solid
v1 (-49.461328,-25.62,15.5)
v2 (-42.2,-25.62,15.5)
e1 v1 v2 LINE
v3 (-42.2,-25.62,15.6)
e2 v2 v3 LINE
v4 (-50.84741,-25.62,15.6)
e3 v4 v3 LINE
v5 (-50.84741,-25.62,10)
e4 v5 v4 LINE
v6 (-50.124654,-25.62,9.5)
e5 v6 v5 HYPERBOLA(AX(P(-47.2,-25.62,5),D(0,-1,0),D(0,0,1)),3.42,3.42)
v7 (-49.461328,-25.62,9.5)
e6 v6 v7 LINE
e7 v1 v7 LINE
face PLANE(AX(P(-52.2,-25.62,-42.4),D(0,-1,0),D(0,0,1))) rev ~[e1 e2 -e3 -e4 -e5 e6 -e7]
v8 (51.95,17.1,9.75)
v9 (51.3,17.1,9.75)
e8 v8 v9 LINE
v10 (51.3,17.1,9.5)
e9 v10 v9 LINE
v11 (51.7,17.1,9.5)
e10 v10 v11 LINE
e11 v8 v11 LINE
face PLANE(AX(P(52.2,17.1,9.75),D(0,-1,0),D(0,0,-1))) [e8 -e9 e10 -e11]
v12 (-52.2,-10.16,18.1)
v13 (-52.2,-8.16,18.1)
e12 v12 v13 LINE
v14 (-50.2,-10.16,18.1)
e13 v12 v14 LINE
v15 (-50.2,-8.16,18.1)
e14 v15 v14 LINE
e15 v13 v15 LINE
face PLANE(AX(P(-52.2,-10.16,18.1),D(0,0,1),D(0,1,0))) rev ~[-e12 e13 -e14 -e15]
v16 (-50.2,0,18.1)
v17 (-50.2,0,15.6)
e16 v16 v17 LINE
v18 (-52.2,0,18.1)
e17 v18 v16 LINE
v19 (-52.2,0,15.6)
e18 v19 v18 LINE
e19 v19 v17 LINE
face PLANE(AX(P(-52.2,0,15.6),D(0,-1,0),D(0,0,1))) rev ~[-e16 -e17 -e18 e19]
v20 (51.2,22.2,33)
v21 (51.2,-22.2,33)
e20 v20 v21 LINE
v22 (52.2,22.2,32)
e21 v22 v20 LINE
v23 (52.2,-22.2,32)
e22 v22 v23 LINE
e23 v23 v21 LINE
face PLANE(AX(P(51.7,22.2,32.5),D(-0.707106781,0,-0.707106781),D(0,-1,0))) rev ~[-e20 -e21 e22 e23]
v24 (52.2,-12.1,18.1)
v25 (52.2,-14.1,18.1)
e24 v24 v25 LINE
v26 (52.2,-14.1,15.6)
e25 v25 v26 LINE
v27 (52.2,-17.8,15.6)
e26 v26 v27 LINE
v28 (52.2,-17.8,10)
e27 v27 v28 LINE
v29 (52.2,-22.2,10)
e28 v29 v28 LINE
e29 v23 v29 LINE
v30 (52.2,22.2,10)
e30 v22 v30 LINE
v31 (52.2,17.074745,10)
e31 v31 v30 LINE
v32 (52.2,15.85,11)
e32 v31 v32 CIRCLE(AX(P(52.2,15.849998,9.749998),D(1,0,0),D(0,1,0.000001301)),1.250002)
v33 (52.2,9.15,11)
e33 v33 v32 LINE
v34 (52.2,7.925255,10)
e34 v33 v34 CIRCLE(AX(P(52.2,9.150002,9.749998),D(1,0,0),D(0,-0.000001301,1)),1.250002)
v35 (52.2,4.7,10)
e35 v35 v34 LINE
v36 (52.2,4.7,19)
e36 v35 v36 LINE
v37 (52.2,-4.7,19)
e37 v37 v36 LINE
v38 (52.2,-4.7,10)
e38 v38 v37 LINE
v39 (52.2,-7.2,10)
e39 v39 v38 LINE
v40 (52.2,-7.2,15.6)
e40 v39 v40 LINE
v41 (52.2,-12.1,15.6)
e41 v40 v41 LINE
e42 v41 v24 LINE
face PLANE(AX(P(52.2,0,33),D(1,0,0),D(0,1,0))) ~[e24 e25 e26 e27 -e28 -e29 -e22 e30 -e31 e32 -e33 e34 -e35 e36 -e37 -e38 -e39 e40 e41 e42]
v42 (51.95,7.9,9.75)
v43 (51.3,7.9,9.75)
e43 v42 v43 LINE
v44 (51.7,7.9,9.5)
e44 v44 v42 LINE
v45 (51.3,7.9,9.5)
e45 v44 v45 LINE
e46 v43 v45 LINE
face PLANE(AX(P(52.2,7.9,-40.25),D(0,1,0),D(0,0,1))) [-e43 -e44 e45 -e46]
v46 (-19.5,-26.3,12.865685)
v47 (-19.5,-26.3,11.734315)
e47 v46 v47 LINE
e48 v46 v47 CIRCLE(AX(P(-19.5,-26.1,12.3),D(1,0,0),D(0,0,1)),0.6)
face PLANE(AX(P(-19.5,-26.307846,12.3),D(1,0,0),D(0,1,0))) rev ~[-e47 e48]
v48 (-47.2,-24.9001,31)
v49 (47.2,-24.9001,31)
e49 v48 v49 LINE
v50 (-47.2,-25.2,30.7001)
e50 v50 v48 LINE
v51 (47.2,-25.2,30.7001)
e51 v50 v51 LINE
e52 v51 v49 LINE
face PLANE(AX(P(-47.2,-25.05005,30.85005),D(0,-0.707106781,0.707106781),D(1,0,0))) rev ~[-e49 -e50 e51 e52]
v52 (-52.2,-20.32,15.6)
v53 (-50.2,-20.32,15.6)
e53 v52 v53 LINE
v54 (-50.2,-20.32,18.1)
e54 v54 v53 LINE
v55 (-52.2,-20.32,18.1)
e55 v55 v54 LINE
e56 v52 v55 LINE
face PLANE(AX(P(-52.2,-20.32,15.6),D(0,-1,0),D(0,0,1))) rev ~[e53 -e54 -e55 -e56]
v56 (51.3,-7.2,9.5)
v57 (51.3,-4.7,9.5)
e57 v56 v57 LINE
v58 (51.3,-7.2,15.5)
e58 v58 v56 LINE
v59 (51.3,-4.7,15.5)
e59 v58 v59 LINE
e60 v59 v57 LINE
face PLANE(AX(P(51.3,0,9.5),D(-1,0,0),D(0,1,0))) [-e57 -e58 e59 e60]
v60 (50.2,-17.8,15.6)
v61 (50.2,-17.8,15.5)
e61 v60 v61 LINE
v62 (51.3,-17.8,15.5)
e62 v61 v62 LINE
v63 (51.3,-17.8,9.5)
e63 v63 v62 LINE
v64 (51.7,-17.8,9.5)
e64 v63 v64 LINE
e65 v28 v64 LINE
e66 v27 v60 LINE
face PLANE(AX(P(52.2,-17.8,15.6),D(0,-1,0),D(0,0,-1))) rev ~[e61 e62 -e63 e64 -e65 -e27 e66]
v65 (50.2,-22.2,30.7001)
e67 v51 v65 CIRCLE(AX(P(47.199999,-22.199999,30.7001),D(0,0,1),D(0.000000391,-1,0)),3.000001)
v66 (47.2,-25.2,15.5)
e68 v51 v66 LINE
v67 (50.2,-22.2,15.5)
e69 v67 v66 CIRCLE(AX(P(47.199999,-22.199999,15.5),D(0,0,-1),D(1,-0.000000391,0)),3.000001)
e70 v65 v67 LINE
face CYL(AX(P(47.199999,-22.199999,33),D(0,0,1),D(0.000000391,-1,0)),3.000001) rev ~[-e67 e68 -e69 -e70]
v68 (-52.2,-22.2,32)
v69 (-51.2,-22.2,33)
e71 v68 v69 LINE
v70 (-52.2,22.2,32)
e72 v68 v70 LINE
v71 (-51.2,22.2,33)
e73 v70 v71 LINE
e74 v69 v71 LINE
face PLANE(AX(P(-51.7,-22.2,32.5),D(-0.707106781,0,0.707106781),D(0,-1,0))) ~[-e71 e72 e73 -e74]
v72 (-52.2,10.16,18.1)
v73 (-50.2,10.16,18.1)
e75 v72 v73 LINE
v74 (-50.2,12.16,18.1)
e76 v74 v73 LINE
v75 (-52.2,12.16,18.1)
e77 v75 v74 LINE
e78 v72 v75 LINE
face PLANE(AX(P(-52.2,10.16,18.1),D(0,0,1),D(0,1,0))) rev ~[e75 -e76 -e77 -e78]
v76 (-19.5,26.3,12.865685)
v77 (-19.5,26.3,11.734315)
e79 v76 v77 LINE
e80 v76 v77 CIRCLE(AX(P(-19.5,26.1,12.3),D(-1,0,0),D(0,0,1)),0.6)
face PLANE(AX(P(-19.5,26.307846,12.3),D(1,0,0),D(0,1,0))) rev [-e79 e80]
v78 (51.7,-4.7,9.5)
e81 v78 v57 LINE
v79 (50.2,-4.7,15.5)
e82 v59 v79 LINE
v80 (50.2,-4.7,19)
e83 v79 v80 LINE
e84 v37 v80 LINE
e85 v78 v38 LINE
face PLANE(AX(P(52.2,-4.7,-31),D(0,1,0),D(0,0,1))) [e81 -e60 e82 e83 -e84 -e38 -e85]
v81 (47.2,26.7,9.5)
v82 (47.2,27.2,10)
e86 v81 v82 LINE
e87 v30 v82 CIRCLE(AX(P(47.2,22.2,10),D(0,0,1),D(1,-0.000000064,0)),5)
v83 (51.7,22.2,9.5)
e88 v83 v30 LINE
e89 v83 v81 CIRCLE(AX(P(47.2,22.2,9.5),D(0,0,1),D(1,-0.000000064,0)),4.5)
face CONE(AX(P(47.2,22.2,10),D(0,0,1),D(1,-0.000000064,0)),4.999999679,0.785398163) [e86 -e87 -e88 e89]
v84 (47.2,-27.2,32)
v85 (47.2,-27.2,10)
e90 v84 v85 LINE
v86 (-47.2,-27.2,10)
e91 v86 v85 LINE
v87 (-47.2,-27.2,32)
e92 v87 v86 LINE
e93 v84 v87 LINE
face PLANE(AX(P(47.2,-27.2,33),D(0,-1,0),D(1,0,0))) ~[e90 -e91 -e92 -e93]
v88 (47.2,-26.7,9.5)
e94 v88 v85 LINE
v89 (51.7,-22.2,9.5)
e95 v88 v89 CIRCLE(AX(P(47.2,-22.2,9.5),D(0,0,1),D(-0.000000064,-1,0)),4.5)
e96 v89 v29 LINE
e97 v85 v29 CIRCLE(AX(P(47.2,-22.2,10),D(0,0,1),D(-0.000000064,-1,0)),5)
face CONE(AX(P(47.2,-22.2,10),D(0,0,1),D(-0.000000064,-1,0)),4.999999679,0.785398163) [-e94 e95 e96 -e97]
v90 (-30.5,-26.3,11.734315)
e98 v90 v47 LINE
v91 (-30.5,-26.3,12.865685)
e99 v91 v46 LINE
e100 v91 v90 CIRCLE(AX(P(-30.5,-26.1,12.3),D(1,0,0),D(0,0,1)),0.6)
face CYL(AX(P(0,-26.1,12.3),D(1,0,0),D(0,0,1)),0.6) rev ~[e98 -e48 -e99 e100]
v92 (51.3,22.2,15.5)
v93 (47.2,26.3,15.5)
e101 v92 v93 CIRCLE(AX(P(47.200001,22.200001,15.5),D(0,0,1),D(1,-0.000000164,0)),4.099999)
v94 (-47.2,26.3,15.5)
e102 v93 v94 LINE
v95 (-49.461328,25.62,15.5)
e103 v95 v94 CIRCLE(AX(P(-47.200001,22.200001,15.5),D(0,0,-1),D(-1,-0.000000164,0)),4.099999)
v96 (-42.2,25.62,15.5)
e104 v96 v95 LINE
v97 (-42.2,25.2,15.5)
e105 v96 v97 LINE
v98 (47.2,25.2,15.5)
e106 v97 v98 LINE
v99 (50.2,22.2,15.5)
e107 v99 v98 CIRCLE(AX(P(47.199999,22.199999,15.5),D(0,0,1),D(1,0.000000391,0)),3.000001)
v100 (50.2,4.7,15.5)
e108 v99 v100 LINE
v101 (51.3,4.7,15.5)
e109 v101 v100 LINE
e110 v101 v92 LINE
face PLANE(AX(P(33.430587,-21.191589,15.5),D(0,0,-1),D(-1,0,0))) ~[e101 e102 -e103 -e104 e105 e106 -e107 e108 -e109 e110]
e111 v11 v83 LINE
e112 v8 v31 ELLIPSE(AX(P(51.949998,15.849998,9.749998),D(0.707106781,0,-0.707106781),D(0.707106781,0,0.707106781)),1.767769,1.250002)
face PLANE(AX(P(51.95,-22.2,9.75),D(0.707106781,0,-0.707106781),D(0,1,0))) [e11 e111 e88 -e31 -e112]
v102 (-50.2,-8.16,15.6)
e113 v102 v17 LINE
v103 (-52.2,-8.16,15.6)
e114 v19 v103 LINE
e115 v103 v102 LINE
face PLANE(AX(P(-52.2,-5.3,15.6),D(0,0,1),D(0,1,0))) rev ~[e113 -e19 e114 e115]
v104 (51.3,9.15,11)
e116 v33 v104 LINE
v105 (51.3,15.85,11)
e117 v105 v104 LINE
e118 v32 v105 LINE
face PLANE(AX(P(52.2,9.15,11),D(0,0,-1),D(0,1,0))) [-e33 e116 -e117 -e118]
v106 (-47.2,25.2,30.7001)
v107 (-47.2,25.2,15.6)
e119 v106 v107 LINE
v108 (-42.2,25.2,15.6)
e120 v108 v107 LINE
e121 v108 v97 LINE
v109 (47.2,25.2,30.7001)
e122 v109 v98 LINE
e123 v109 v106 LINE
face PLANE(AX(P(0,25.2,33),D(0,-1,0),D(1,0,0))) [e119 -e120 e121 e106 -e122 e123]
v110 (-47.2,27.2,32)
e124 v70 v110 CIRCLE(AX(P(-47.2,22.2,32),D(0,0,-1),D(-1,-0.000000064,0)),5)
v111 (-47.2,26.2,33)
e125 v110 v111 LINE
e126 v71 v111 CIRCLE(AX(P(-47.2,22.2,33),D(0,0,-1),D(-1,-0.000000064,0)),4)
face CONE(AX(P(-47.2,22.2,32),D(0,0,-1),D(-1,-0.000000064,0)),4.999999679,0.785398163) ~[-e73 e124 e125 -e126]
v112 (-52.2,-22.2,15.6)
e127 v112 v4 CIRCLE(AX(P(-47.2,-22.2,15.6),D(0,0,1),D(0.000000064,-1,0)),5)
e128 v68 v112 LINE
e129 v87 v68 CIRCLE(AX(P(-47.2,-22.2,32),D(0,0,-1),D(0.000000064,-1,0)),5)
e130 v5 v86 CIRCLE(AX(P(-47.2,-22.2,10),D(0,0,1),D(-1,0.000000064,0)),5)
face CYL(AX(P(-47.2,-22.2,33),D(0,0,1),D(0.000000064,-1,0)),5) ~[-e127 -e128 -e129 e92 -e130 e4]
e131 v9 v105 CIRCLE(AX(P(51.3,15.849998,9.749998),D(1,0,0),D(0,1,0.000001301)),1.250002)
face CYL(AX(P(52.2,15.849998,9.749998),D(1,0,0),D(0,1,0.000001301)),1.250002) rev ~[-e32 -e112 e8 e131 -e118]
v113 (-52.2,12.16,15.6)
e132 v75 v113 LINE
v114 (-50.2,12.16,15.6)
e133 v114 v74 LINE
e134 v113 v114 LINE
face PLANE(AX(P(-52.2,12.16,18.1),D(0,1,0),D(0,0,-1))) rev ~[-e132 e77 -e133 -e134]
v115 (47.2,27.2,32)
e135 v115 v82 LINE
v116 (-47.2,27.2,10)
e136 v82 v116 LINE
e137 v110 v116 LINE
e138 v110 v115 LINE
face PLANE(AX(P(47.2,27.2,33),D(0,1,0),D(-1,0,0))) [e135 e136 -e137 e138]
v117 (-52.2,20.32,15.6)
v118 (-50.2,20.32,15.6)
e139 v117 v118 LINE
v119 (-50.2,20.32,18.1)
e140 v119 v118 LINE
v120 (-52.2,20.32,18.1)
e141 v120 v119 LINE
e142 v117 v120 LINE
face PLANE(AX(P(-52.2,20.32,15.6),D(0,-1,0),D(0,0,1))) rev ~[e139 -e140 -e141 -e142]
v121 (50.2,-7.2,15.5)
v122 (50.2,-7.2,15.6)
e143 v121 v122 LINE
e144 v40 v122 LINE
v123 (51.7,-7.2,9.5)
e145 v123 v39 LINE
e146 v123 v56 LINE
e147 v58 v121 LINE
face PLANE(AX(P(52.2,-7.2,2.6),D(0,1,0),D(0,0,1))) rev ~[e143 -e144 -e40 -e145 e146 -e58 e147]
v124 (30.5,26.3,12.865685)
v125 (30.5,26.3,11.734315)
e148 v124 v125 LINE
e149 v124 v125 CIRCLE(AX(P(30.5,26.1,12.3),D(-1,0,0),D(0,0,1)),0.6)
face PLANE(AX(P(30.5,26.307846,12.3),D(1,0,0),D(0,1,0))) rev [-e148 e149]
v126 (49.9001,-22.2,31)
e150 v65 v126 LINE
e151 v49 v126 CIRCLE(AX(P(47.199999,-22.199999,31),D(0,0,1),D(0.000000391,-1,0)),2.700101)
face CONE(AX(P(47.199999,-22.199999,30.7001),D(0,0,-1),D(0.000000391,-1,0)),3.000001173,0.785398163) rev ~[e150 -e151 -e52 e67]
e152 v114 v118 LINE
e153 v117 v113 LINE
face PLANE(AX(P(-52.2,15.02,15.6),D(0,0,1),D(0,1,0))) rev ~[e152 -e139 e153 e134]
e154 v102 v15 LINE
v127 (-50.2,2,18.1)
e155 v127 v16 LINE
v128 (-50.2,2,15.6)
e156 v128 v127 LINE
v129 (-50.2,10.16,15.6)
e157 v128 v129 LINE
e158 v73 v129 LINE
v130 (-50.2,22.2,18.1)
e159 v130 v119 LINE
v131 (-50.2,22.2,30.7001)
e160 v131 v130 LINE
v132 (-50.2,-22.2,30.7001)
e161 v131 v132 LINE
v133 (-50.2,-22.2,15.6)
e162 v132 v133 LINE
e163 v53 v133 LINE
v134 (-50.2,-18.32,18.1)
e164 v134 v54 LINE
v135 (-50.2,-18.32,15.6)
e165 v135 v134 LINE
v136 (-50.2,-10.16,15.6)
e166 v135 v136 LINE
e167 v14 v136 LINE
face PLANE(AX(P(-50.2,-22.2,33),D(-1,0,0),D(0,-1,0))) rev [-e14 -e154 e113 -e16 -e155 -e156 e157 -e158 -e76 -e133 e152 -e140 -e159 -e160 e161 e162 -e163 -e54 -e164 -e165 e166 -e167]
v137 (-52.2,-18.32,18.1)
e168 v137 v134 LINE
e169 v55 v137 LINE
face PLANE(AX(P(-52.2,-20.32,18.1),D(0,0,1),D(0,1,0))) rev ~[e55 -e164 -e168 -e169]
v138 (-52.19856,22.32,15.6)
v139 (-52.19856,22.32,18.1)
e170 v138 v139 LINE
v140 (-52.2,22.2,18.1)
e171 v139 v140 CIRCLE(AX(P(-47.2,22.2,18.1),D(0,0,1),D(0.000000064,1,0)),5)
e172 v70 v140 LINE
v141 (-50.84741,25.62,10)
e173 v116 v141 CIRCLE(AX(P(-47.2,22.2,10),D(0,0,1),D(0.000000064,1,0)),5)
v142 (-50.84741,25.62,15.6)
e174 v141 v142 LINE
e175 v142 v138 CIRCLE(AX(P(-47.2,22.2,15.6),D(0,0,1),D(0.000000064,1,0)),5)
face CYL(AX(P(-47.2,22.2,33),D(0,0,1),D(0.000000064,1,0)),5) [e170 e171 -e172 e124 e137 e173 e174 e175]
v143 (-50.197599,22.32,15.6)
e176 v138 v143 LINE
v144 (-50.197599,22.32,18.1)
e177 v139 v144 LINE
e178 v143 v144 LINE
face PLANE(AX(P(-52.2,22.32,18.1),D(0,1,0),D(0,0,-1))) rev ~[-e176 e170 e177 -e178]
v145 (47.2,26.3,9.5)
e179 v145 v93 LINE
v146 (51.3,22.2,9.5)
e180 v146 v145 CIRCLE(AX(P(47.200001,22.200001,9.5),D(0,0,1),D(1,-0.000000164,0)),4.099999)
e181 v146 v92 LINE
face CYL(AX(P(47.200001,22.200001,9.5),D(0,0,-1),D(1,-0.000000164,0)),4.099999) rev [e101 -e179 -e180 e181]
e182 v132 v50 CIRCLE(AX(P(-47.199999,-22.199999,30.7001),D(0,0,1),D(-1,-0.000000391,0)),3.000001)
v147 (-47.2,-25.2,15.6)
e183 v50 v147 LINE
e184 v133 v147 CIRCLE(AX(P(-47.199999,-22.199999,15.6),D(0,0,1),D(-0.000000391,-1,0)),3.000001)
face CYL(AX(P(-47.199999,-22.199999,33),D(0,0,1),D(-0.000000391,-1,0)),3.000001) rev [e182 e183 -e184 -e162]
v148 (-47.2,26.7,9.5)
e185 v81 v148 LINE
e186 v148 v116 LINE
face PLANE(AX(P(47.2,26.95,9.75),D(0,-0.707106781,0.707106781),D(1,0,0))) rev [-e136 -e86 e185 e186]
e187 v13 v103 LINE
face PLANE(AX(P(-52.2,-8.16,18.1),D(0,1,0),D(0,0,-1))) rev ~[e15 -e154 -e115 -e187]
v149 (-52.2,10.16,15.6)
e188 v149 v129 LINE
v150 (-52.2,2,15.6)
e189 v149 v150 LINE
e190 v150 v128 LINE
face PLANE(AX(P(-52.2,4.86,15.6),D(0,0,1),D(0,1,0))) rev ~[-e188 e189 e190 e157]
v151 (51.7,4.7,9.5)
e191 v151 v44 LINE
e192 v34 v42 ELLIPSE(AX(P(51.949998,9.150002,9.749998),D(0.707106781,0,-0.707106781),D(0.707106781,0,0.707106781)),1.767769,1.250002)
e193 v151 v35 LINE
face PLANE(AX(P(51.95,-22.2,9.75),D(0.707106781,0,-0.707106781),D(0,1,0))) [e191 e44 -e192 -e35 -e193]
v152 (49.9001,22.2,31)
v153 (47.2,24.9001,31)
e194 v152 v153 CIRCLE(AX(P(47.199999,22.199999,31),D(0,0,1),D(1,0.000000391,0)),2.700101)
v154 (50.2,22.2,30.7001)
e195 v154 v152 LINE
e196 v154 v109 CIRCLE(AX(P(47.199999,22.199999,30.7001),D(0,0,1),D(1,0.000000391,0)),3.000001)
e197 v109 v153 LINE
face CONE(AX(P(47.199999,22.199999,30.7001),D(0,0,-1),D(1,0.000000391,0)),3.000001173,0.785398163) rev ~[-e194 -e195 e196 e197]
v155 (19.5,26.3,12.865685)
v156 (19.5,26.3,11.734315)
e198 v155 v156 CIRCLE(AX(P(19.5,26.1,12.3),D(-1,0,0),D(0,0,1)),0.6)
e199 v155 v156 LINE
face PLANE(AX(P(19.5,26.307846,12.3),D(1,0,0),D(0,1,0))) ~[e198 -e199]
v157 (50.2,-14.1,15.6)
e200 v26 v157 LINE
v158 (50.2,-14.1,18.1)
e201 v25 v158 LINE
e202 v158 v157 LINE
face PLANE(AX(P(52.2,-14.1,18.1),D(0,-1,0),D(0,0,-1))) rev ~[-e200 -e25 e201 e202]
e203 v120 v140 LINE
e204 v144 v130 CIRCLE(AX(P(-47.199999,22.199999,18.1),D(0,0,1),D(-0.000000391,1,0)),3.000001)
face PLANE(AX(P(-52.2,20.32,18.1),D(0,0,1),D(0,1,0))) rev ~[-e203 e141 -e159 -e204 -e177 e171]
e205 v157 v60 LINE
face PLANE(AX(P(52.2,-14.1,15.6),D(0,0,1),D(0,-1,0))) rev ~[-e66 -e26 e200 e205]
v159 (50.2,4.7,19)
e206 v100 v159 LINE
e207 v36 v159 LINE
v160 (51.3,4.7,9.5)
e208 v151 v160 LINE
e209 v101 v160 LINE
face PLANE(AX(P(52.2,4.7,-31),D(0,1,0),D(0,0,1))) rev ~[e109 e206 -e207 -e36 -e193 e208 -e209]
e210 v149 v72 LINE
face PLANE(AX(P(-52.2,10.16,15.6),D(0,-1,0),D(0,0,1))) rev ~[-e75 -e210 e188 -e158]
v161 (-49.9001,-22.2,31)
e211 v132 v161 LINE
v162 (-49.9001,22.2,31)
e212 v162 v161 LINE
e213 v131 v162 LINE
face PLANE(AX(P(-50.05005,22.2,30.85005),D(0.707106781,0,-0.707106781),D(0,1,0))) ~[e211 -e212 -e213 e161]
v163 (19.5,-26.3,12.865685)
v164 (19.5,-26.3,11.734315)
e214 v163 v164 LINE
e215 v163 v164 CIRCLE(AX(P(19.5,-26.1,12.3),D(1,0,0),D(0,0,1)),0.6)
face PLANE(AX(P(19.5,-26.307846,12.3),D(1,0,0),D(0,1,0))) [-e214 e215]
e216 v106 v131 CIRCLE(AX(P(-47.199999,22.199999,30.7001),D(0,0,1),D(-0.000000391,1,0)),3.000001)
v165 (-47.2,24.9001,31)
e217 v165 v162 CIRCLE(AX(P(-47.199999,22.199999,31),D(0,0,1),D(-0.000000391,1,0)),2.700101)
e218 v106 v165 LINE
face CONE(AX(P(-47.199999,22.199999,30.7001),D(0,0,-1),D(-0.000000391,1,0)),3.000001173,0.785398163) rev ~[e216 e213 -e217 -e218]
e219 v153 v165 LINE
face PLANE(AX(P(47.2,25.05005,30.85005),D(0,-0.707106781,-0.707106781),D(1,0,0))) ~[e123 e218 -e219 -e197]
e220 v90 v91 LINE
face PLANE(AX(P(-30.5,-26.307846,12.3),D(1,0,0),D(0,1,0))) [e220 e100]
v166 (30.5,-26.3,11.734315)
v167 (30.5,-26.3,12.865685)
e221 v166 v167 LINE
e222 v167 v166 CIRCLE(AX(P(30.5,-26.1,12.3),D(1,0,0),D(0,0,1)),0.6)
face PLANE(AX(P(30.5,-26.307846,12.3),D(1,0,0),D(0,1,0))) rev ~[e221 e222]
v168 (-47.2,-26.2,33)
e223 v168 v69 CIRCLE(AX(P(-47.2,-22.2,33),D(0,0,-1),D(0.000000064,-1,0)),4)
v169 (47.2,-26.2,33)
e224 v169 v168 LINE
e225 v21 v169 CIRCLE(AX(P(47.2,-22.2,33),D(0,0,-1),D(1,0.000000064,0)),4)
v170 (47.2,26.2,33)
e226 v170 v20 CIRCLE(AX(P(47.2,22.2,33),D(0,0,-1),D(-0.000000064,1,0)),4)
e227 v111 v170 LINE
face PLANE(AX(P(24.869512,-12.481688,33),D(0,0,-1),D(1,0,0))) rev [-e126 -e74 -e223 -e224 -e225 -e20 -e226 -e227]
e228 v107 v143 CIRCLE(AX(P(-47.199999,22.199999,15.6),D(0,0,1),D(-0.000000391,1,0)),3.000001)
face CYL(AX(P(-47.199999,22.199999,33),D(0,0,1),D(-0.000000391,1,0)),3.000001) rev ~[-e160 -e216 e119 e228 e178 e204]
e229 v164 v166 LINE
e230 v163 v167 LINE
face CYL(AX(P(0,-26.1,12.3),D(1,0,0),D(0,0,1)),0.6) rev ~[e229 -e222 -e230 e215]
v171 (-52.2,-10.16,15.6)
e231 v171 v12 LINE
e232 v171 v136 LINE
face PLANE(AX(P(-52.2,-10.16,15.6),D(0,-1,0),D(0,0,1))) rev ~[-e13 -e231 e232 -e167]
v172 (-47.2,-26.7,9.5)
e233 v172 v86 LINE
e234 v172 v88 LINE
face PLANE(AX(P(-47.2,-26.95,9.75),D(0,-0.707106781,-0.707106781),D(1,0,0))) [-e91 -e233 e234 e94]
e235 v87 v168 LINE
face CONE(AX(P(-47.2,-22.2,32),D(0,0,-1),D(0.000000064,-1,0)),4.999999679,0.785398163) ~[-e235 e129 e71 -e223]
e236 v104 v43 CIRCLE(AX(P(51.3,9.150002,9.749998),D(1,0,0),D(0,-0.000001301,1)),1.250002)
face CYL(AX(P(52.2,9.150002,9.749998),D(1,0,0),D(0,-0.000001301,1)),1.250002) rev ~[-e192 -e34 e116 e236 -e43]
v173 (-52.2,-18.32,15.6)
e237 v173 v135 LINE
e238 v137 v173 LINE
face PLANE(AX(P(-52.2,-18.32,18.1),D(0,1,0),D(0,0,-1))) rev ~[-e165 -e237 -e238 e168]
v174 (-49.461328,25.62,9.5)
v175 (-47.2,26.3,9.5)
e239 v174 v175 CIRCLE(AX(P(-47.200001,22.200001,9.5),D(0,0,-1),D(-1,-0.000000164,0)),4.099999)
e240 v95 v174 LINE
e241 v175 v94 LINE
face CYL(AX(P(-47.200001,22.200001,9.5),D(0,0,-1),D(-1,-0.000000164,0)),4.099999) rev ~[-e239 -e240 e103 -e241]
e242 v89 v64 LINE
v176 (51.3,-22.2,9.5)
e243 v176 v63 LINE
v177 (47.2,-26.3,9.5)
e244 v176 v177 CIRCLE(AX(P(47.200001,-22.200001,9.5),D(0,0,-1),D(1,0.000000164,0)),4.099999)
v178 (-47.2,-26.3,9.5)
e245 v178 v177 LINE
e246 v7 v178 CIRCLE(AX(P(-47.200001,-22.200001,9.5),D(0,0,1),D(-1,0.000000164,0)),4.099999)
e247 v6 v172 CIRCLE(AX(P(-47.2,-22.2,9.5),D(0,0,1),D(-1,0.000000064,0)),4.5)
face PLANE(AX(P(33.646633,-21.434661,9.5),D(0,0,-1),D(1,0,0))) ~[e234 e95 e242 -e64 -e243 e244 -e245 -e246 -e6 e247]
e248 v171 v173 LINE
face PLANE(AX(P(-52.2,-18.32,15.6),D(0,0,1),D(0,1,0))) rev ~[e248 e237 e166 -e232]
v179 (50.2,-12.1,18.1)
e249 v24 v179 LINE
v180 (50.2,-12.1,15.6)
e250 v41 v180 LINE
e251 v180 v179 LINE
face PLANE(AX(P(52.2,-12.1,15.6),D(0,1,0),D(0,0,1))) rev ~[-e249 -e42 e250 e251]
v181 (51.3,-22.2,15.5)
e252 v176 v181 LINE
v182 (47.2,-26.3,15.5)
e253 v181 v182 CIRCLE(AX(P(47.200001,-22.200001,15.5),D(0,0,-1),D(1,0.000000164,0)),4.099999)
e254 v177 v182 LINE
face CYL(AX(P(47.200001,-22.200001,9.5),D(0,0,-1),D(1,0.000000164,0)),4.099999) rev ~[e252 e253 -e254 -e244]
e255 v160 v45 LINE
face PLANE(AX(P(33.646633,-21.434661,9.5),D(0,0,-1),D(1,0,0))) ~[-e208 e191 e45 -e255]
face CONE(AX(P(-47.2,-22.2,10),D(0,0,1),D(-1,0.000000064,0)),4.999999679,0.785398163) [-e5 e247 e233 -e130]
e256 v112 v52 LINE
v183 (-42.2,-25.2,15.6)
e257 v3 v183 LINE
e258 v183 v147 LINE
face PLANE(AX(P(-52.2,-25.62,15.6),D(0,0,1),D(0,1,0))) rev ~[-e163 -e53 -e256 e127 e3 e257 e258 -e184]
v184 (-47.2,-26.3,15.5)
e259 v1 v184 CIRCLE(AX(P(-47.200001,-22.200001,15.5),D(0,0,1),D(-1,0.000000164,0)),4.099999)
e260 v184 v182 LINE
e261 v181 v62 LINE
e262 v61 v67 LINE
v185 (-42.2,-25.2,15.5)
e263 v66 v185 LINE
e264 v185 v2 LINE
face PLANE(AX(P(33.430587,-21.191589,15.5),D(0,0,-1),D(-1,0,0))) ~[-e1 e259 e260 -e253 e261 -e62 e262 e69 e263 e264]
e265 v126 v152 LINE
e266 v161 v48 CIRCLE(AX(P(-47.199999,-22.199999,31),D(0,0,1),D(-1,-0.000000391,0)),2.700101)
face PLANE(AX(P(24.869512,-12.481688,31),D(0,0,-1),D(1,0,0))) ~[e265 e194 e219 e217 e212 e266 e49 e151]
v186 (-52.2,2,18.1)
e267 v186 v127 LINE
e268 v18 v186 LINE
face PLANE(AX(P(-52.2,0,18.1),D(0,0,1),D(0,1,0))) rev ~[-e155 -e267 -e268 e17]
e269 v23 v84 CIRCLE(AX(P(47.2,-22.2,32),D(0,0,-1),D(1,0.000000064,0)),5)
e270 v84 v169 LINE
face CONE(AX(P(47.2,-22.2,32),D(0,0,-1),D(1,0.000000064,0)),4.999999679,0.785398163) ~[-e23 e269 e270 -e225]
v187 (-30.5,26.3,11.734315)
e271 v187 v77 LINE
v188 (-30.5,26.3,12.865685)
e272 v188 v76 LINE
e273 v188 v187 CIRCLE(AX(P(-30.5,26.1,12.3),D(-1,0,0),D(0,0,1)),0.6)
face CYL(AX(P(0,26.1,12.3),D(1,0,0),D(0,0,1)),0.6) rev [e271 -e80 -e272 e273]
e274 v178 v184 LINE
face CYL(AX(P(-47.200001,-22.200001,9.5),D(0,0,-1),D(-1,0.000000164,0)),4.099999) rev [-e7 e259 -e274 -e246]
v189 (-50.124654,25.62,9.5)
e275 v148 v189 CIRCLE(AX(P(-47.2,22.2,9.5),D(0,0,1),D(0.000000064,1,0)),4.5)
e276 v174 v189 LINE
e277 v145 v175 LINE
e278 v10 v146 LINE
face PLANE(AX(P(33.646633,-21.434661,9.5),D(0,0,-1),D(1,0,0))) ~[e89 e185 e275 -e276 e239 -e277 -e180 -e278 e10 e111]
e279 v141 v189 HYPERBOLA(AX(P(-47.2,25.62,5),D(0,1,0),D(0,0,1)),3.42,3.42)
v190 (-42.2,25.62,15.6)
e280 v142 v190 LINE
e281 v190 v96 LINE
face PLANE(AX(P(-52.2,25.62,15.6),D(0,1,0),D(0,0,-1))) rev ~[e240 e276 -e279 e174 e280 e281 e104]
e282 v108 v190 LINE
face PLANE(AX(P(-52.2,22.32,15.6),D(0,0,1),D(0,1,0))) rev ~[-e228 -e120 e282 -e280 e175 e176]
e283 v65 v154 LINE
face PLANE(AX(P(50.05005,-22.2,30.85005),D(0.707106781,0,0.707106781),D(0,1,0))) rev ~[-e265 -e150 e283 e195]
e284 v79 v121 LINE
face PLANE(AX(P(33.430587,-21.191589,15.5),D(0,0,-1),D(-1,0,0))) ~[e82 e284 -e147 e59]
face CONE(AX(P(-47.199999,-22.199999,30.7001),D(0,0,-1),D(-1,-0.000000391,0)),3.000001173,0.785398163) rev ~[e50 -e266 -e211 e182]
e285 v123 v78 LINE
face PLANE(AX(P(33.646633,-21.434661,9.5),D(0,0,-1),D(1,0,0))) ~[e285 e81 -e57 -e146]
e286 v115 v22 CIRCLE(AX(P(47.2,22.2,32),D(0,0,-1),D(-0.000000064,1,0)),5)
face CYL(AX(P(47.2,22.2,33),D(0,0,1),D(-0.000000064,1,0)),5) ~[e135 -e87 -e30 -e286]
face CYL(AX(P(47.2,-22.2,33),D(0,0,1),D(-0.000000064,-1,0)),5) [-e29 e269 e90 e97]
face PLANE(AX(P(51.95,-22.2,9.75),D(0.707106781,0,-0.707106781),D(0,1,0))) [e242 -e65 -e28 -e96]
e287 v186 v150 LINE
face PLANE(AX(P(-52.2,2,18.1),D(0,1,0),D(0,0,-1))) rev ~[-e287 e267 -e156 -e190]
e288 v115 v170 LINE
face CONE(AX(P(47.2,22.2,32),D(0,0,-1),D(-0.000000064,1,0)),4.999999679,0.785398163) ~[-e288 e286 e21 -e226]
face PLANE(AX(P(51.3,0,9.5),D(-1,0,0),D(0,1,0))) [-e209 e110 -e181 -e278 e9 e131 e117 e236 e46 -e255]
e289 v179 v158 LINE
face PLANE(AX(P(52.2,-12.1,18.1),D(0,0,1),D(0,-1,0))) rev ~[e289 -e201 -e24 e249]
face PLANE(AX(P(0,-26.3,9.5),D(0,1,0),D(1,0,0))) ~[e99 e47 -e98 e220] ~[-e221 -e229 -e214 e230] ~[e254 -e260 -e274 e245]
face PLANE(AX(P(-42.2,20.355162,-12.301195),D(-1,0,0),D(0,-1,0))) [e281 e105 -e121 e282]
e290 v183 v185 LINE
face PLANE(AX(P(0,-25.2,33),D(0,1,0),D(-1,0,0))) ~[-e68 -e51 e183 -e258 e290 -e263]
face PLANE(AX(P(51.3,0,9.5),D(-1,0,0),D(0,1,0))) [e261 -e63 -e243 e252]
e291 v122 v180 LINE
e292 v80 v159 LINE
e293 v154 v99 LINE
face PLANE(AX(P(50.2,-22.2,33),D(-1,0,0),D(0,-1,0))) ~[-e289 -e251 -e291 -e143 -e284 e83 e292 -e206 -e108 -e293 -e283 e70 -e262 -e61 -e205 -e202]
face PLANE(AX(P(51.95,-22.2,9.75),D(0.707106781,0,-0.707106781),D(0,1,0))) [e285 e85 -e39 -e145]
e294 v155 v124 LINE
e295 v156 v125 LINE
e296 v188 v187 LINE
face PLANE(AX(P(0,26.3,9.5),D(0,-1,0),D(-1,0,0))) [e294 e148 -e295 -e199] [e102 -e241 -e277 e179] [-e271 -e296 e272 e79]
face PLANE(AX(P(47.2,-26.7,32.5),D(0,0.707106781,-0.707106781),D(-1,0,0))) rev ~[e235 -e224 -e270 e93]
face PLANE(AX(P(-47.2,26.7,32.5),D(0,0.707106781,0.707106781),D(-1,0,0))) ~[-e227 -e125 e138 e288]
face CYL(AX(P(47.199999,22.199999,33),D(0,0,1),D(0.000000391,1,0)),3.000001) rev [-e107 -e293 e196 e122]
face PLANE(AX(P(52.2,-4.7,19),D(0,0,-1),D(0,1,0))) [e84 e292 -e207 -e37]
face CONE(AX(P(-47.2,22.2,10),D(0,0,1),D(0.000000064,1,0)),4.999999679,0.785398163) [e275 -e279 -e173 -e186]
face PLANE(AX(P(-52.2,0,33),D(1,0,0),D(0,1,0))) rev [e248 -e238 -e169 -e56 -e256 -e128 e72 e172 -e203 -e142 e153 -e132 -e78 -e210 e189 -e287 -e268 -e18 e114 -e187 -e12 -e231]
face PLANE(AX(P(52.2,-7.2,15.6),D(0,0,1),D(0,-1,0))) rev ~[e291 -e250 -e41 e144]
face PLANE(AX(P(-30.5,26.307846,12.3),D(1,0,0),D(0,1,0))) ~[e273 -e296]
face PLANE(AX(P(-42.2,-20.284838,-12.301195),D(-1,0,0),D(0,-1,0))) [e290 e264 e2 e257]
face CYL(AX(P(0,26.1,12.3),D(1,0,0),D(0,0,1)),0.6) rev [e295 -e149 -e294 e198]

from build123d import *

# Parameters (mm, degrees)
PAD010_DEPTH                  = 23.5
POCKET028_DEPTH               = 6
PAD010_MIRRORED018_2_DEPTH    = 23.5
POCKET028_MIRRORED018_2_DEPTH = 6
PAD015_DEPTH                  = 2
PAD015_MIRRORED021_2_DEPTH    = 2
POCKET036_DEPTH               = 30.5
PAD016_DEPTH                  = 19.5
PAD016_FACE36_W               = 39
PAD016_FACE36_H               = 1.2
POCKET037_DEPTH               = 0.2
CHAMFER022_SIZE               = 0.5
CHAMFER020_SIZE               = 1
CHAMFER024_SIZE               = 0.2999
POCKET046_DEPTH               = 10
SKETCH049_W                   = 9.4
SKETCH049_H                   = 50
POCKET033_DEPTH               = 15
POCKET041_DEPTH               = 5
POCKET044_DEPTH               = 10
POCKET040_DEPTH               = 10
POCKET042_DEPTH               = 10
POCKET043_DEPTH               = 10
POCKET030_DEPTH               = 10


with BuildPart() as part:
    # Sketch033 (on DatumPlane) → Pad010 (new body)
    with BuildSketch(Plane.XY.offset(33)):
        with BuildLine():
            ThreePointArc((-47.2, 27.2), (-50.735534, 25.735534), (-52.2, 22.2))
            Line((-52.2, 0), (-52.2, 22.2))
            Line((-50.2, 0), (-52.2, 0))
            Line((-50.2, 22.2), (-50.2, 0))
            ThreePointArc((-47.2, 25.2), (-49.32132, 24.32132), (-50.2, 22.2))
            Line((0, 25.2), (-47.2, 25.2))
            Line((0, 27.2), (0, 25.2))
            Line((-47.2, 27.2), (0, 27.2))
        make_face()
    pad010 = extrude(amount=-PAD010_DEPTH)

    # Sketch031 (on Face10 of Pad010) → Pocket028 (cut)
    with BuildSketch(Plane(origin=(0, 0, 9.5), x_dir=(1, 0, 0), z_dir=(0, 0, -1))):
        with BuildLine():
            ThreePointArc((-50.2, -22.2), (-49.32132, -24.32132), (-47.2, -25.2))
            Line((-47.2, -25.2), (0, -25.2))
            Line((0, -25.2), (0, -26.3))
            Line((0, -26.3), (-47.2, -26.3))
            ThreePointArc((-51.3, -22.2), (-50.099138, -25.099138), (-47.2, -26.3))
            Line((-51.3, 0), (-51.3, -22.2))
            Line((-50.2, 0), (-51.3, 0))
            Line((-50.2, -22.2), (-50.2, 0))
        make_face()
    pocket028 = extrude(amount=-POCKET028_DEPTH, mode=Mode.SUBTRACT)

    # Sketch033 Mirrored018 2 → Pad010 Mirrored018 2 (add)
    with BuildSketch(Plane(origin=(0, 0, 33), x_dir=(-1, 0, 0), z_dir=(0, 0, -1))):
        with BuildLine():
            ThreePointArc((-47.2, 27.2), (-50.735534, 25.735534), (-52.2, 22.2))
            Line((-52.2, 0), (-52.2, 22.2))
            Line((-50.2, 0), (-52.2, 0))
            Line((-50.2, 22.2), (-50.2, 0))
            ThreePointArc((-47.2, 25.2), (-49.32132, 24.32132), (-50.2, 22.2))
            Line((0, 25.2), (-47.2, 25.2))
            Line((0, 27.2), (0, 25.2))
            Line((-47.2, 27.2), (0, 27.2))
        make_face()
    pad010_mirrored018_2 = extrude(amount=PAD010_MIRRORED018_2_DEPTH)

    # Sketch031 Mirrored018 2 → Pocket028 Mirrored018 2 (cut)
    with BuildSketch(Plane(origin=(0, 0, 9.5), x_dir=(-1, 0, 0), z_dir=(0, 0, 1))):
        with BuildLine():
            ThreePointArc((-50.2, -22.2), (-49.32132, -24.32132), (-47.2, -25.2))
            Line((-47.2, -25.2), (0, -25.2))
            Line((0, -25.2), (0, -26.3))
            Line((0, -26.3), (-47.2, -26.3))
            ThreePointArc((-51.3, -22.2), (-50.099138, -25.099138), (-47.2, -26.3))
            Line((-51.3, 0), (-51.3, -22.2))
            Line((-50.2, 0), (-51.3, 0))
            Line((-50.2, -22.2), (-50.2, 0))
        make_face()
    pocket028_mirrored018_2 = extrude(amount=POCKET028_MIRRORED018_2_DEPTH, mode=Mode.SUBTRACT)

    # Mirrored020: Pad010, Pocket028, Pad010 Mirrored018 2, Pocket028 Mirrored018 2 across Sketch033 H_Axis
    add(pad010.mirror(Plane(origin=(0, 0, 33), x_dir=(0, 0, 1), z_dir=(0, 1, 0))))
    add(pocket028.mirror(Plane(origin=(0, 0, 33), x_dir=(0, 0, 1), z_dir=(0, 1, 0))), mode=Mode.SUBTRACT)
    add(pad010_mirrored018_2.mirror(Plane(origin=(0, 0, 33), x_dir=(0, 0, 1), z_dir=(0, 1, 0))))
    add(pocket028_mirrored018_2.mirror(Plane(origin=(0, 0, 33), x_dir=(0, 0, 1), z_dir=(0, 1, 0))), mode=Mode.SUBTRACT)

    # Sketch044 (on DatumPlane) → Pad015 (join)
    with BuildSketch(Plane.XY.offset(33)):
        with BuildLine():
            ThreePointArc((-47.2, 25.2), (-49.32132, 24.32132), (-50.2, 22.2))
            Line((-50.2, 22.2), (-50.2, 0))
            Line((-50.2, 0), (0, 0))
            Line((0, 0), (0, 25.2))
            Line((0, 25.2), (-47.2, 25.2))
        make_face()
    pad015 = extrude(amount=-PAD015_DEPTH)

    # Sketch044 Mirrored021 2 → Pad015 Mirrored021 2 (add)
    with BuildSketch(Plane(origin=(0, 0, 33), x_dir=(-1, 0, 0), z_dir=(0, 0, -1))):
        with BuildLine():
            ThreePointArc((-47.2, 25.2), (-49.32132, 24.32132), (-50.2, 22.2))
            Line((-50.2, 22.2), (-50.2, 0))
            Line((-50.2, 0), (0, 0))
            Line((0, 0), (0, 25.2))
            Line((0, 25.2), (-47.2, 25.2))
        make_face()
    pad015_mirrored021_2 = extrude(amount=PAD015_MIRRORED021_2_DEPTH)

    # Mirrored027: Pad015, Pad015 Mirrored021 2 across Sketch044 H_Axis
    add(pad015.mirror(Plane(origin=(0, 0, 33), x_dir=(0, 0, 1), z_dir=(0, 1, 0))))
    add(pad015_mirrored021_2.mirror(Plane(origin=(0, 0, 33), x_dir=(0, 0, 1), z_dir=(0, 1, 0))))

    # Sketch055 → Pocket036 (cut, symmetric)
    with BuildSketch(Plane.YZ):
        with BuildLine():
            ThreePointArc((-26.1, 12.9), (-26.7, 12.3), (-26.1, 11.7))
            Line((-26.1, 12.9), (-26.1, 11.7))
        make_face()
    pocket036 = extrude(amount=POCKET036_DEPTH, both=True, mode=Mode.SUBTRACT)

    # Sketch055 → Pad016 (join, symmetric)
    with BuildSketch(Plane.YZ):
        with BuildLine():
            ThreePointArc((-26.1, 12.9), (-26.7, 12.3), (-26.1, 11.7))
            Line((-26.1, 12.9), (-26.1, 11.7))
        make_face()
    pad016 = extrude(amount=PAD016_DEPTH, both=True)

    # Pad016 Face36 → Pocket037 (cut)
    with BuildSketch(Plane(origin=(0, -26.1, 12.3), x_dir=(1, 0, 0), z_dir=(0, 1, 0))):
        Rectangle(PAD016_FACE36_W, PAD016_FACE36_H)
    pocket037 = extrude(amount=-POCKET037_DEPTH, mode=Mode.SUBTRACT)

    # Mirrored028: Pocket036, Pad016, Pocket037 across Sketch055 V_Axis
    add(pocket036.mirror(Plane(origin=(0, 0, 0), x_dir=(1, 0, 0), z_dir=(0, 1, 0))), mode=Mode.SUBTRACT)
    add(pad016.mirror(Plane(origin=(0, 0, 0), x_dir=(1, 0, 0), z_dir=(0, 1, 0))))
    add(pocket037.mirror(Plane(origin=(0, 0, 0), x_dir=(1, 0, 0), z_dir=(0, 1, 0))), mode=Mode.SUBTRACT)

    # Chamfer022
    chamfer022_edges = [part.edges().sort_by_distance(p)[0] for p in [
        (0, -27.2, 9.5),
    ]]
    chamfer(chamfer022_edges, length=CHAMFER022_SIZE)

    # Chamfer020
    chamfer020_edges = [part.edges().sort_by_distance(p)[0] for p in [
        (0, -27.2, 33),
    ]]
    chamfer(chamfer020_edges, length=CHAMFER020_SIZE)

    # Chamfer024
    chamfer024_edges = [part.edges().sort_by_distance(p)[0] for p in [
        (50.2, 0, 31),
    ]]
    chamfer(chamfer024_edges, length=CHAMFER024_SIZE)

    # Sketch041 (on DatumPlane) → Pocket046 (cut)
    with BuildSketch(Plane.YZ.offset(52.2)):
        Polygon((-7.2, 7.6), (-7.2, 15.6), (-12.1, 15.6), (-12.1, 18.1), (-14.1, 18.1), (-14.1, 15.6), (-17.8, 15.6), (-17.8, 7.6), (-17.8, 2.6), (-7.2, 2.6), align=None)
    extrude(amount=-POCKET046_DEPTH, mode=Mode.SUBTRACT)

    # Sketch049 (on DatumPlane) → Pocket033 (cut)
    with BuildSketch(Plane.YZ.offset(52.2)):
        with Locations((0, -6)):
            Rectangle(SKETCH049_W, SKETCH049_H)
    extrude(amount=-POCKET033_DEPTH, mode=Mode.SUBTRACT)

    # Sketch056 (on DatumPlane) → Pocket041 (cut)
    with BuildSketch(Plane.YZ.offset(52.2)):
        with BuildLine():
            Line((7.9, -40.25), (7.9, 9.75))
            ThreePointArc((9.15, 11), (8.266117, 10.633883), (7.9, 9.75))
            Line((9.15, 11), (15.85, 11))
            ThreePointArc((17.1, 9.75), (16.733883, 10.633883), (15.85, 11))
            Line((17.1, 9.75), (17.1, -40.25))
            Line((7.9, -40.25), (17.1, -40.25))
        make_face()
    extrude(amount=-POCKET041_DEPTH, mode=Mode.SUBTRACT)

    # Sketch050 (on DatumPlane) → Pocket044 (cut)
    with BuildSketch(Plane(origin=(-52.2, 0, 0), x_dir=(0, -1, 0), z_dir=(-1, 0, 0))):
        Polygon((-15.02, 7.6), (-15.02, 15.6), (-20.32, 15.6), (-20.32, 18.1), (-22.32, 18.1), (-22.32, 15.6), (-25.62, 15.6), (-25.62, 7.6), (-25.62, -42.4), (-15.02, -42.4), align=None)
    extrude(amount=-POCKET044_DEPTH, mode=Mode.SUBTRACT)

    # Sketch046 (on DatumPlane) → Pocket040 (cut)
    with BuildSketch(Plane(origin=(-52.2, 0, 0), x_dir=(0, -1, 0), z_dir=(-1, 0, 0))):
        Polygon((-4.86, 7.6), (-4.86, 15.6), (-10.16, 15.6), (-10.16, 18.1), (-12.16, 18.1), (-12.16, 15.6), (-15.46, 15.6), (-15.46, 7.6), (-15.46, -42.4), (-4.86, -42.4), align=None)
    extrude(amount=-POCKET040_DEPTH, mode=Mode.SUBTRACT)

    # Sketch057 (on DatumPlane) → Pocket042 (cut)
    with BuildSketch(Plane(origin=(-52.2, 0, 0), x_dir=(0, -1, 0), z_dir=(-1, 0, 0))):
        Polygon((5.3, 7.6), (5.3, 15.6), (0, 15.6), (0, 18.1), (-2, 18.1), (-2, 15.6), (-5.3, 15.6), (-5.3, 7.6), (-5.3, -42.4), (5.3, -42.4), align=None)
    extrude(amount=-POCKET042_DEPTH, mode=Mode.SUBTRACT)

    # Sketch054 (on DatumPlane) → Pocket043 (cut)
    with BuildSketch(Plane(origin=(-52.2, 0, 0), x_dir=(0, -1, 0), z_dir=(-1, 0, 0))):
        Polygon((15.46, 7.6), (15.46, 15.6), (10.16, 15.6), (10.16, 18.1), (8.16, 18.1), (8.16, 15.6), (4.86, 15.6), (4.86, 7.6), (4.86, -42.4), (15.46, -42.4), align=None)
    extrude(amount=-POCKET043_DEPTH, mode=Mode.SUBTRACT)

    # Sketch039 (on DatumPlane) → Pocket030 (cut)
    with BuildSketch(Plane(origin=(-52.2, 0, 0), x_dir=(0, -1, 0), z_dir=(-1, 0, 0))):
        Polygon((25.62, 7.6), (25.62, 15.6), (20.32, 15.6), (20.32, 18.1), (18.32, 18.1), (18.32, 15.6), (15.02, 15.6), (15.02, 7.6), (15.02, -42.4), (25.62, -42.4), align=None)
    extrude(amount=-POCKET030_DEPTH, mode=Mode.SUBTRACT)


solid = part.part
